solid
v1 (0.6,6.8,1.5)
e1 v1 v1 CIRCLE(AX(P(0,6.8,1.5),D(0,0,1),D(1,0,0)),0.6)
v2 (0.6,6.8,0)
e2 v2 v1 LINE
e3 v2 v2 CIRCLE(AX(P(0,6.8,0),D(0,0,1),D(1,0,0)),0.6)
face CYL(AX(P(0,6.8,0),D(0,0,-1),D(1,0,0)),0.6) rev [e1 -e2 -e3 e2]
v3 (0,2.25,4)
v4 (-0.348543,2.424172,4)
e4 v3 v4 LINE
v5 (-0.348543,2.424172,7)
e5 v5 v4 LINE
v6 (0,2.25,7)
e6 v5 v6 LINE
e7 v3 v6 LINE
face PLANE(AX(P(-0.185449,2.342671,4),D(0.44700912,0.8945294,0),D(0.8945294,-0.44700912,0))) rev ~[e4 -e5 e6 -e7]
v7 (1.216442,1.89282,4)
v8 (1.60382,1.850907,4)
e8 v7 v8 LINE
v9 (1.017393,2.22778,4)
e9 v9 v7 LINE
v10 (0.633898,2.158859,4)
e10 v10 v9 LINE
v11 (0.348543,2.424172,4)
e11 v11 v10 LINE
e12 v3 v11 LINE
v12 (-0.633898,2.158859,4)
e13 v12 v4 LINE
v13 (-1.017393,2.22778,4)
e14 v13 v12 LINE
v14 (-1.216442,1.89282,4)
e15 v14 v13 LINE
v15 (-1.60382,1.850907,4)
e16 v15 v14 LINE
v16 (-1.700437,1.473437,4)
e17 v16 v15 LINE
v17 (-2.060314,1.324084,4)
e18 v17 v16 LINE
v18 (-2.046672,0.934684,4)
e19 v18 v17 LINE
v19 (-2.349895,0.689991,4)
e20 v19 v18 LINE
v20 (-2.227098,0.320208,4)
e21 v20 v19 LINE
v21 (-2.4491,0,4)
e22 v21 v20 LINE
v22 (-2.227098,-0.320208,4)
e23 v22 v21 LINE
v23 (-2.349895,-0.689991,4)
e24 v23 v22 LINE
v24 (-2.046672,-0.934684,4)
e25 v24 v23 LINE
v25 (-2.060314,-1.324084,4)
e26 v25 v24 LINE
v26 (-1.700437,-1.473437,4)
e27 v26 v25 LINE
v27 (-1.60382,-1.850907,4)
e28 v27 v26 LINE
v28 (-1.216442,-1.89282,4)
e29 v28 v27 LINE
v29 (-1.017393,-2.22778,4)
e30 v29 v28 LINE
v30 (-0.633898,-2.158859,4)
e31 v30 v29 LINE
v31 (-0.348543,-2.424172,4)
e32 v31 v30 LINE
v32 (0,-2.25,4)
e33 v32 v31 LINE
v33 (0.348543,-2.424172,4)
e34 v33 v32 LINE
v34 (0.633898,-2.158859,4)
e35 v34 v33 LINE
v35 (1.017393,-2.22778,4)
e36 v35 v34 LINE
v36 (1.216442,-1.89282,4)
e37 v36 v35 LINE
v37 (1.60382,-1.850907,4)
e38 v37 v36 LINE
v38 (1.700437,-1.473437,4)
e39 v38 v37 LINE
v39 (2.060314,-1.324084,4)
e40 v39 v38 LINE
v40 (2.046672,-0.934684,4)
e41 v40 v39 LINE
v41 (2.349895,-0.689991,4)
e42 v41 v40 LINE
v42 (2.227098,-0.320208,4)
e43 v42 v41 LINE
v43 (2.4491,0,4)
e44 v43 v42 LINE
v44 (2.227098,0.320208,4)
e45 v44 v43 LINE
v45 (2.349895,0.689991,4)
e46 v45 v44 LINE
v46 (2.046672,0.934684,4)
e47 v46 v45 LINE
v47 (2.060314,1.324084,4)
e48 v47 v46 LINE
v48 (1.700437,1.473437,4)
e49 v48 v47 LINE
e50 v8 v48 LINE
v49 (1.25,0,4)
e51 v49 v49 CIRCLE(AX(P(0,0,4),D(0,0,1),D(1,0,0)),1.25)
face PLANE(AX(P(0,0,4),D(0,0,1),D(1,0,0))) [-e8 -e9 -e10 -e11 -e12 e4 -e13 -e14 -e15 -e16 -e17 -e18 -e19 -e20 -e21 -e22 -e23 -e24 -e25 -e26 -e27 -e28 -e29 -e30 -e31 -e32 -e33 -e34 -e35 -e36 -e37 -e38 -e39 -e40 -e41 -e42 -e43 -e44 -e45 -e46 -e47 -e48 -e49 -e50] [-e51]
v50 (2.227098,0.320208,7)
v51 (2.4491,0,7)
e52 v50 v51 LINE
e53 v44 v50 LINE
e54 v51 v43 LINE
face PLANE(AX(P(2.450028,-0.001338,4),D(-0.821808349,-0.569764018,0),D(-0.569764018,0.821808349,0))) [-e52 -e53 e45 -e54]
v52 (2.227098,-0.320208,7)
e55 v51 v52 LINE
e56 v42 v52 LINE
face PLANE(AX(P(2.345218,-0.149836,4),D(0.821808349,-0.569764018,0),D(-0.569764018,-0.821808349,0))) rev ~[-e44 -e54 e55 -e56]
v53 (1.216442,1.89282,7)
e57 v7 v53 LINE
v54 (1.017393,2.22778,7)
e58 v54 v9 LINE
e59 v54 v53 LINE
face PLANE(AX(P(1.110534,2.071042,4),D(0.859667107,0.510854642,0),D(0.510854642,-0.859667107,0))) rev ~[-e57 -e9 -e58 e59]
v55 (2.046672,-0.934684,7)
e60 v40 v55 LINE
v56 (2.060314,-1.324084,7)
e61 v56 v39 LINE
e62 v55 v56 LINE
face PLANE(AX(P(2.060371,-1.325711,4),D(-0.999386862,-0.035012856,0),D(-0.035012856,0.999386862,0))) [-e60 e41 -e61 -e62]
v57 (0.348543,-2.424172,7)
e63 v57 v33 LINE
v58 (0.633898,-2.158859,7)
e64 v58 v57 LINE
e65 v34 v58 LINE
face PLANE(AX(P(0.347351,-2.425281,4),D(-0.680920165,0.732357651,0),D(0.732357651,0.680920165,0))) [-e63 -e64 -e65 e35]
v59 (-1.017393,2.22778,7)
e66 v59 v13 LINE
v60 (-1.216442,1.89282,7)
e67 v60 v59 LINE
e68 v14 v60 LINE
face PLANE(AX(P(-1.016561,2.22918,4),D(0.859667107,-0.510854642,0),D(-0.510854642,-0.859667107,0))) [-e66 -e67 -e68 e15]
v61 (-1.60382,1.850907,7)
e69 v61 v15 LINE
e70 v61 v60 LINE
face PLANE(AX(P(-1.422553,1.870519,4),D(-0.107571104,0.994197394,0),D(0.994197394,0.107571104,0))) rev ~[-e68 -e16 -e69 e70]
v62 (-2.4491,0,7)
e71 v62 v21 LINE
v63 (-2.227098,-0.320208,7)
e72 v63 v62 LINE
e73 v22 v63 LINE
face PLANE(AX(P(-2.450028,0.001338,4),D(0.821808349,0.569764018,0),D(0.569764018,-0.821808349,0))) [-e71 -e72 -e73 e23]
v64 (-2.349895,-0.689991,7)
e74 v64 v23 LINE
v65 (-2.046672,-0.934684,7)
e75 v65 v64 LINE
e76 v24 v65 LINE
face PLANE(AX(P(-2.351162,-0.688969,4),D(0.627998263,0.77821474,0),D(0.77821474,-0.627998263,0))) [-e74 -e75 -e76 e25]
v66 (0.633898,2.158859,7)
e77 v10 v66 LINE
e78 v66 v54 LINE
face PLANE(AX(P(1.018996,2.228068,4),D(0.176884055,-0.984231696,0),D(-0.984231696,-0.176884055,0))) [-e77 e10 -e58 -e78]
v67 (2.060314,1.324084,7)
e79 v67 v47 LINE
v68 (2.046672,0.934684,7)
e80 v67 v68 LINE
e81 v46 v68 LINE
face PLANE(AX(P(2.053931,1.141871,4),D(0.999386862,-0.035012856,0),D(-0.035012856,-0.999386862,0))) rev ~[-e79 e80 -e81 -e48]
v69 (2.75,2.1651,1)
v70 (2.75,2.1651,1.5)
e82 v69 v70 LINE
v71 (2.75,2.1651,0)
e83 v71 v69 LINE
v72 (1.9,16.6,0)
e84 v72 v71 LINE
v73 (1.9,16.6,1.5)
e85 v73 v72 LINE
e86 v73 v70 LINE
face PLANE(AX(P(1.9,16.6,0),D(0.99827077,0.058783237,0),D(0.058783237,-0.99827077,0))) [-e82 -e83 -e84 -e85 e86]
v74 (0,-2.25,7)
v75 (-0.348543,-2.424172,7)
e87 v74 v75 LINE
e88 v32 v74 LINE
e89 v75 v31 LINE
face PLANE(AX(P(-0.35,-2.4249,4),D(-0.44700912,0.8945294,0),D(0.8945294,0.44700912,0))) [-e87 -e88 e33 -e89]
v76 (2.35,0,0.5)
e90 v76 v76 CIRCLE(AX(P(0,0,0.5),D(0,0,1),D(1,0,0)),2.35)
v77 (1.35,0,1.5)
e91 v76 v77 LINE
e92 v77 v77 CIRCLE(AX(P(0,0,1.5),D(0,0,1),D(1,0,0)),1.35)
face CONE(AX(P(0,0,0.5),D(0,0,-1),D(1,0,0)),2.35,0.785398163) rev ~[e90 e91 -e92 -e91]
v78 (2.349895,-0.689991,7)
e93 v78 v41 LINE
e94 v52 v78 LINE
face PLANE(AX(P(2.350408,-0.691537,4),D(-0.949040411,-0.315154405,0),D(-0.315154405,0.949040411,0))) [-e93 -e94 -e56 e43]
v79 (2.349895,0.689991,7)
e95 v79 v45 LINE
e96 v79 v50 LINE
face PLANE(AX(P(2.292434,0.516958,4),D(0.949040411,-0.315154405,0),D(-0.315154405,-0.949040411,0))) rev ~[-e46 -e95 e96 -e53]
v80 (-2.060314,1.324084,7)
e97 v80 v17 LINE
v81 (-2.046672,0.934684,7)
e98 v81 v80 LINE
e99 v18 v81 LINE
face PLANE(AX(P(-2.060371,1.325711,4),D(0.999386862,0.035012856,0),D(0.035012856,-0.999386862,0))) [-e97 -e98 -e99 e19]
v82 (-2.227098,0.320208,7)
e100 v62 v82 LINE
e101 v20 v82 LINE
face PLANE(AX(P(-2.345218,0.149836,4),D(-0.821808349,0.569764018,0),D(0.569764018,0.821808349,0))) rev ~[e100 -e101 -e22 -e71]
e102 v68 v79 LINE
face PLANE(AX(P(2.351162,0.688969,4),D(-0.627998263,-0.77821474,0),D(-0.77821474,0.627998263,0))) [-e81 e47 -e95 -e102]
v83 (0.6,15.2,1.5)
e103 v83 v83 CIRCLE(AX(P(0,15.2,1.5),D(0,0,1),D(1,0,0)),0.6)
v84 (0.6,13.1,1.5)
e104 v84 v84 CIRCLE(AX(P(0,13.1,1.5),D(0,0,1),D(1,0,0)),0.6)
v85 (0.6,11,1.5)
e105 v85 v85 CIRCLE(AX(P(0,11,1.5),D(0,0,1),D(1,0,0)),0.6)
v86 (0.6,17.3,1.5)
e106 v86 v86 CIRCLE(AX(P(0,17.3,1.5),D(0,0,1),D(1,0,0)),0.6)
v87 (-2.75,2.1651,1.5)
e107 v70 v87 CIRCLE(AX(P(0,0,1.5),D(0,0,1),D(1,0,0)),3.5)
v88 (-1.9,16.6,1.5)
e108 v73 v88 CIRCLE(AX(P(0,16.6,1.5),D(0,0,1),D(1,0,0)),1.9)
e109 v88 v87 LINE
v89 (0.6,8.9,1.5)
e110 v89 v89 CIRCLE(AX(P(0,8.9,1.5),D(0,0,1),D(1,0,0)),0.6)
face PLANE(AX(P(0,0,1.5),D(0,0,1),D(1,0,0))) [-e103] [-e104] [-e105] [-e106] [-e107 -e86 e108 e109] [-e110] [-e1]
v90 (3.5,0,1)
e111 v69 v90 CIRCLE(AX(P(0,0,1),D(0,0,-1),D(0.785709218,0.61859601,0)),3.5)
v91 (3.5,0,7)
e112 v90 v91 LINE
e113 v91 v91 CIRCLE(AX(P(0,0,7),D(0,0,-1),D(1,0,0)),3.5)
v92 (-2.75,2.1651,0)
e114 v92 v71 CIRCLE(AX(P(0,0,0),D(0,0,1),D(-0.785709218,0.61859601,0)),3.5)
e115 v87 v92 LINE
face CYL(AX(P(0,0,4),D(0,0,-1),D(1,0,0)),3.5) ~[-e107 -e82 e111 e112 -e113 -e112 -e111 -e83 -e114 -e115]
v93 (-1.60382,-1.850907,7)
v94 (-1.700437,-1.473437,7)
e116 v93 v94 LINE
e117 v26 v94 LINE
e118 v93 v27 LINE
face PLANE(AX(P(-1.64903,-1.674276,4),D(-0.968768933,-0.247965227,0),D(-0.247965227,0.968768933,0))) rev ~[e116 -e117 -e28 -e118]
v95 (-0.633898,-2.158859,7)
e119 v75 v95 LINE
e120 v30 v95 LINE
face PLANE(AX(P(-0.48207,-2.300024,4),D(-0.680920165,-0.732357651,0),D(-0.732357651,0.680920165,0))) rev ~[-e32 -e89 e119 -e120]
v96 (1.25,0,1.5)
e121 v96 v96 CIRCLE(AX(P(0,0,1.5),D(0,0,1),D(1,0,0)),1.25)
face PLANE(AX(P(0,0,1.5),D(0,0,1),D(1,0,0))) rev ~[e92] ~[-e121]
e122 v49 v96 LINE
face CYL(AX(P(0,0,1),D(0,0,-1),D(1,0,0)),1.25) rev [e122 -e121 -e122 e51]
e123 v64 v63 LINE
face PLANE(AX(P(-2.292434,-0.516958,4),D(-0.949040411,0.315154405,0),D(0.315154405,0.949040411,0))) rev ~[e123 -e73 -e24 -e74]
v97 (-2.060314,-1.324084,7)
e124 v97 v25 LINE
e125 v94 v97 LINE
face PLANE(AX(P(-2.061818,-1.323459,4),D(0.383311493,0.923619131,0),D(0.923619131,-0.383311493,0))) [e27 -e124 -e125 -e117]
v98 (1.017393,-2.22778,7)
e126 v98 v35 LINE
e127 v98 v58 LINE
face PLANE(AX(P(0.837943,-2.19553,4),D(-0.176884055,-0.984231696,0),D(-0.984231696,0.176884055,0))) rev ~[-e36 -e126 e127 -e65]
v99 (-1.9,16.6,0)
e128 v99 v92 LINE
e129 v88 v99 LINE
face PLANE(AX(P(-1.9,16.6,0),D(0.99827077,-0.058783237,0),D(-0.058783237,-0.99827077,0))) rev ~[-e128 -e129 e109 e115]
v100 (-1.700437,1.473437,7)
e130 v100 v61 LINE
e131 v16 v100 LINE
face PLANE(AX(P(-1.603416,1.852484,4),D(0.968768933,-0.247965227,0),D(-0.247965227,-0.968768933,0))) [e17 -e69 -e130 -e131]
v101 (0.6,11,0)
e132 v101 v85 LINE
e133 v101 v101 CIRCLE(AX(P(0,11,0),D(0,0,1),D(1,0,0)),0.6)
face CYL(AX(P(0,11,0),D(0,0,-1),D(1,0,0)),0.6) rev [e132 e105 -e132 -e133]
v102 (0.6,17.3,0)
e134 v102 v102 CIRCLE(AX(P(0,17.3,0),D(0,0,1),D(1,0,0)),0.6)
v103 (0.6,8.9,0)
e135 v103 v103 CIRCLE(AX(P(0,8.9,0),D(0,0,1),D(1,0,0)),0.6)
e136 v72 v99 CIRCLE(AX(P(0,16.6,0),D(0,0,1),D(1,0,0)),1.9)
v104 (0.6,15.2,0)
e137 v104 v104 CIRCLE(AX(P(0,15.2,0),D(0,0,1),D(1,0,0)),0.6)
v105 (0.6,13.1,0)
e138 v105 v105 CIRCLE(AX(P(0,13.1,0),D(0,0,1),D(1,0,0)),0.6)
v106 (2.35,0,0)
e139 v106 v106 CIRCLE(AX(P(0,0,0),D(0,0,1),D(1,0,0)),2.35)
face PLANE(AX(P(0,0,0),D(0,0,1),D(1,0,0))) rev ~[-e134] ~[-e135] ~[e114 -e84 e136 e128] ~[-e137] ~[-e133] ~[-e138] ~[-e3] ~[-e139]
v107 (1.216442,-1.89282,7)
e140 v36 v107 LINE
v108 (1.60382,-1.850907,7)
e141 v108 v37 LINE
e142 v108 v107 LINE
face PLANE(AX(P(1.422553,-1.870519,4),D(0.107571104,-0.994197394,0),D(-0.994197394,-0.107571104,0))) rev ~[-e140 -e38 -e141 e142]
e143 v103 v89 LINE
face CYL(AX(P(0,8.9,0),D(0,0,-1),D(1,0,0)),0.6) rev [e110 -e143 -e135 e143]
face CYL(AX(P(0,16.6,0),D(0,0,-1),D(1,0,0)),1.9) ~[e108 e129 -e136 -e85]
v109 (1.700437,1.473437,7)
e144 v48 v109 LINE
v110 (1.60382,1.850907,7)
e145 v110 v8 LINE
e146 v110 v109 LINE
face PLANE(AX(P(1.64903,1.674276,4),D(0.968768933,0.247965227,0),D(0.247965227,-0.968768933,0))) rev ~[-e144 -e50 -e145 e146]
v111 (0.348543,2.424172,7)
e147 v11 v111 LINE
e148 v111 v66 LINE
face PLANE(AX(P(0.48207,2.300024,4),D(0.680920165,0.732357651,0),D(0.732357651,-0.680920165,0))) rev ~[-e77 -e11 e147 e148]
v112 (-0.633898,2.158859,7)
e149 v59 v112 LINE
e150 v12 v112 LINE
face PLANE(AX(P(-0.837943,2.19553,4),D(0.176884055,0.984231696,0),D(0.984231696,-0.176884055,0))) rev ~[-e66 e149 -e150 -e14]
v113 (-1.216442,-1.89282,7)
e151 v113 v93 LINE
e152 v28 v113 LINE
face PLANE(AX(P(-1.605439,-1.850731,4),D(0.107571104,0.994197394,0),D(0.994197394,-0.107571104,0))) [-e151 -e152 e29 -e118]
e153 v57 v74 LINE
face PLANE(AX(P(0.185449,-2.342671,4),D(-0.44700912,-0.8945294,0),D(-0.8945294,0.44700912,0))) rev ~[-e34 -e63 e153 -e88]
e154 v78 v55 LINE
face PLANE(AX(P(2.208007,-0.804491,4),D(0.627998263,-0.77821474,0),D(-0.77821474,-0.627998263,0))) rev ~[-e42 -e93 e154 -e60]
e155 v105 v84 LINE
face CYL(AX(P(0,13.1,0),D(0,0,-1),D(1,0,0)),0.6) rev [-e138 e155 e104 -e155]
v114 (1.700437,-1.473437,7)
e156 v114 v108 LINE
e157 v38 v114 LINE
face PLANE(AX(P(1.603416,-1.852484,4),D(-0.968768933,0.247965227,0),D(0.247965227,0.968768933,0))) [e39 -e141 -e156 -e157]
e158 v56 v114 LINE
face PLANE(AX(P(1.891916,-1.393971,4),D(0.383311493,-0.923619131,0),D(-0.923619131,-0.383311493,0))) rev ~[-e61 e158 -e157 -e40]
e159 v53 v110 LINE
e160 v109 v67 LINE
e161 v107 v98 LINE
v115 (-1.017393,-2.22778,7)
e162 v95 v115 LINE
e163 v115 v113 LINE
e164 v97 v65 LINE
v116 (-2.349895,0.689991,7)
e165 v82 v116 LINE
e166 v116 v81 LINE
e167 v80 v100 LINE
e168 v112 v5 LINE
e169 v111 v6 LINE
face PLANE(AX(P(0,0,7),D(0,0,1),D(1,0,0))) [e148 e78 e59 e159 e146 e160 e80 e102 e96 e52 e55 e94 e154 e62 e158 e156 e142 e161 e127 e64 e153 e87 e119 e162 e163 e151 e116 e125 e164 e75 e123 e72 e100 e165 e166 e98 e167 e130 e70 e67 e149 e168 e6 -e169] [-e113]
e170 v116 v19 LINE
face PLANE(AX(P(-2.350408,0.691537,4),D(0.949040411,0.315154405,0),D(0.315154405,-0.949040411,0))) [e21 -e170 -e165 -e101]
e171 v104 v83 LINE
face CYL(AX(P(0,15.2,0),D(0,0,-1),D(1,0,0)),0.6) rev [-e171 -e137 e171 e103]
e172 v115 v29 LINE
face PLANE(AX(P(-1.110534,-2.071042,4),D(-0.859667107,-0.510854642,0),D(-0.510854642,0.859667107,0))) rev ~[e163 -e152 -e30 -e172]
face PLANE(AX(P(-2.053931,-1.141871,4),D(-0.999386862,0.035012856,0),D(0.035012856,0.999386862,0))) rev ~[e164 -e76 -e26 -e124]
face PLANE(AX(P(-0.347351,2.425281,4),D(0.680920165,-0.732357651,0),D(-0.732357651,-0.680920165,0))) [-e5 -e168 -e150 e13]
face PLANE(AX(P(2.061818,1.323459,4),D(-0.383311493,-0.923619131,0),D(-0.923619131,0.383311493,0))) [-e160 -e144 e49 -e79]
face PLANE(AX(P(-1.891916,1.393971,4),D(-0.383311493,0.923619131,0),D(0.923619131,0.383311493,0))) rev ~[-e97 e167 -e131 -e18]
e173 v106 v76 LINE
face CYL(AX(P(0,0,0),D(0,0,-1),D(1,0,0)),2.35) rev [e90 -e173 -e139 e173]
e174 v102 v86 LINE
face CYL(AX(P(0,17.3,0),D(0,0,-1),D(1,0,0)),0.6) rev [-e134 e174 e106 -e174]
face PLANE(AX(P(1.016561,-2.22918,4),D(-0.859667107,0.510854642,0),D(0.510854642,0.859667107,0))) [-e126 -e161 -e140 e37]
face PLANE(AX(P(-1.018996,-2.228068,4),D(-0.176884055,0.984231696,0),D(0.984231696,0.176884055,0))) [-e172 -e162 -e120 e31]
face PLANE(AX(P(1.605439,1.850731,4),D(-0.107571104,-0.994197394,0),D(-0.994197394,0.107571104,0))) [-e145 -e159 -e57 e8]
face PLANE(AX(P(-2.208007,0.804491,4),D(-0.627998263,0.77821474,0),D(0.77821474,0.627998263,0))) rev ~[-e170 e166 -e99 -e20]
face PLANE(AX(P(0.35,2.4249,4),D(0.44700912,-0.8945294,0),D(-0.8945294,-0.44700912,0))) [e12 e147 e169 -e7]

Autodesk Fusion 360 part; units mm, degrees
sketch "スケッチ1" plane through (0, 0, 0) normal (0, 0, 1) x (1, 0, 0)
  circle A0 centre (0, 0) radius 2.45
  circle A1 centre (0, 0) radius 3.5
  line L0 (-3.5, 0) -> (3.5, 0) construction
  line L1 (0, 3.5) -> (0, -3.5) construction
  line L2 (-0.35, 2.4249) -> (0, 2.25)
  line L3 (0.35, 2.4249) -> (0, 2.25)
  line L4 (-0.35, 2.4249) -> (0.35, 2.4249) construction
  line L5 (0, 2.45) -> (0, 2.25) construction
  circle A2 centre (0, 0) radius 1.25
  line L6 (0, 3.5) -> (0, 18.5) construction
  line L7 (-2.75, 2.1651) -> (2.75, 2.1651) construction
  circle A3 centre (0, 16.6) radius 1.9
  line L8 (-1.9, 16.6) -> (1.9, 16.6) construction
  line L9 (-1.9, 16.6) -> (-2.75, 2.1651)
  line L10 (1.9, 16.6) -> (2.75, 2.1651)
  circle A4 centre (0, 17.3) radius 0.6
  circle A5 centre (0, 15.2) radius 0.6
  circle A6 centre (0, 13.1) radius 0.6
  circle A7 centre (0, 11) radius 0.6
  circle A8 centre (0, 8.9) radius 0.6
  circle A9 centre (0, 6.8) radius 0.6
  circle A10 centre (0, 0) radius 2.35
  dimension "d1" = 4.9
  dimension "d2" = 7
  dimension "d3" = 0.2
  dimension "d4" = 0.7
  dimension "d5" = 2.5
  dimension "d7" = 3.8
  dimension "d8" = 22
  dimension "d9" = 5.5
  dimension "d10" = 1.2
  dimension "d12" = 2.1
  dimension "d13" = 2.1
  dimension "d14" = 2.1
  dimension "d15" = 2.1
  dimension "d16" = 2.1
  dimension "d18" = 4.7
  dimension "d21" = 1.2
extrude "押し出し1" add sketch "スケッチ1" along normal blind 1 contours A0 L2 L3 A10 | A0 L2 L3 A10 | L2 L3 A10 | L2 L3 A10 | A1 | A1 A3 L9 L10 A5 | A3 A5 picked at (0.9036, 16.1951)
extrude "押し出し2" add sketch "スケッチ1" along normal blind 1.5 contours A1 A3 L9 L10 A5 | A3 A5 picked at (0.9036, 16.1951)
extrude "押し出し3" add sketch "スケッチ1" along normal blind 3 from surface at 1 contours A0 L2 L3 A10 | A0 L2 L3 A10 | L2 L3 A10 | L2 L3 A10 | A1
extrude "押し出し4" add sketch "スケッチ1" along normal blind 3 from surface at 4 contours A1
extrude "押し出し5" add sketch "スケッチ1" along normal blind 3 from surface at 4 contours A0 L2 L3 A10 | L2 L3 A10 picked at (-0.2175, 2.4049) picked at (0, 2.3161)
pattern_circular "C パターン1" count 22 over 360 about axis through (0, 0, 1.75) along (0, 0, 1) of "押し出し5"
extrude "押し出し6" cut sketch "スケッチ1" along normal blind 1.5 contours L2 L3 A10 | L2 L3 A10
chamfer "面取り1" distance 1 angle 45 1 edges at (-2.191, -0.8498, 1.5)
